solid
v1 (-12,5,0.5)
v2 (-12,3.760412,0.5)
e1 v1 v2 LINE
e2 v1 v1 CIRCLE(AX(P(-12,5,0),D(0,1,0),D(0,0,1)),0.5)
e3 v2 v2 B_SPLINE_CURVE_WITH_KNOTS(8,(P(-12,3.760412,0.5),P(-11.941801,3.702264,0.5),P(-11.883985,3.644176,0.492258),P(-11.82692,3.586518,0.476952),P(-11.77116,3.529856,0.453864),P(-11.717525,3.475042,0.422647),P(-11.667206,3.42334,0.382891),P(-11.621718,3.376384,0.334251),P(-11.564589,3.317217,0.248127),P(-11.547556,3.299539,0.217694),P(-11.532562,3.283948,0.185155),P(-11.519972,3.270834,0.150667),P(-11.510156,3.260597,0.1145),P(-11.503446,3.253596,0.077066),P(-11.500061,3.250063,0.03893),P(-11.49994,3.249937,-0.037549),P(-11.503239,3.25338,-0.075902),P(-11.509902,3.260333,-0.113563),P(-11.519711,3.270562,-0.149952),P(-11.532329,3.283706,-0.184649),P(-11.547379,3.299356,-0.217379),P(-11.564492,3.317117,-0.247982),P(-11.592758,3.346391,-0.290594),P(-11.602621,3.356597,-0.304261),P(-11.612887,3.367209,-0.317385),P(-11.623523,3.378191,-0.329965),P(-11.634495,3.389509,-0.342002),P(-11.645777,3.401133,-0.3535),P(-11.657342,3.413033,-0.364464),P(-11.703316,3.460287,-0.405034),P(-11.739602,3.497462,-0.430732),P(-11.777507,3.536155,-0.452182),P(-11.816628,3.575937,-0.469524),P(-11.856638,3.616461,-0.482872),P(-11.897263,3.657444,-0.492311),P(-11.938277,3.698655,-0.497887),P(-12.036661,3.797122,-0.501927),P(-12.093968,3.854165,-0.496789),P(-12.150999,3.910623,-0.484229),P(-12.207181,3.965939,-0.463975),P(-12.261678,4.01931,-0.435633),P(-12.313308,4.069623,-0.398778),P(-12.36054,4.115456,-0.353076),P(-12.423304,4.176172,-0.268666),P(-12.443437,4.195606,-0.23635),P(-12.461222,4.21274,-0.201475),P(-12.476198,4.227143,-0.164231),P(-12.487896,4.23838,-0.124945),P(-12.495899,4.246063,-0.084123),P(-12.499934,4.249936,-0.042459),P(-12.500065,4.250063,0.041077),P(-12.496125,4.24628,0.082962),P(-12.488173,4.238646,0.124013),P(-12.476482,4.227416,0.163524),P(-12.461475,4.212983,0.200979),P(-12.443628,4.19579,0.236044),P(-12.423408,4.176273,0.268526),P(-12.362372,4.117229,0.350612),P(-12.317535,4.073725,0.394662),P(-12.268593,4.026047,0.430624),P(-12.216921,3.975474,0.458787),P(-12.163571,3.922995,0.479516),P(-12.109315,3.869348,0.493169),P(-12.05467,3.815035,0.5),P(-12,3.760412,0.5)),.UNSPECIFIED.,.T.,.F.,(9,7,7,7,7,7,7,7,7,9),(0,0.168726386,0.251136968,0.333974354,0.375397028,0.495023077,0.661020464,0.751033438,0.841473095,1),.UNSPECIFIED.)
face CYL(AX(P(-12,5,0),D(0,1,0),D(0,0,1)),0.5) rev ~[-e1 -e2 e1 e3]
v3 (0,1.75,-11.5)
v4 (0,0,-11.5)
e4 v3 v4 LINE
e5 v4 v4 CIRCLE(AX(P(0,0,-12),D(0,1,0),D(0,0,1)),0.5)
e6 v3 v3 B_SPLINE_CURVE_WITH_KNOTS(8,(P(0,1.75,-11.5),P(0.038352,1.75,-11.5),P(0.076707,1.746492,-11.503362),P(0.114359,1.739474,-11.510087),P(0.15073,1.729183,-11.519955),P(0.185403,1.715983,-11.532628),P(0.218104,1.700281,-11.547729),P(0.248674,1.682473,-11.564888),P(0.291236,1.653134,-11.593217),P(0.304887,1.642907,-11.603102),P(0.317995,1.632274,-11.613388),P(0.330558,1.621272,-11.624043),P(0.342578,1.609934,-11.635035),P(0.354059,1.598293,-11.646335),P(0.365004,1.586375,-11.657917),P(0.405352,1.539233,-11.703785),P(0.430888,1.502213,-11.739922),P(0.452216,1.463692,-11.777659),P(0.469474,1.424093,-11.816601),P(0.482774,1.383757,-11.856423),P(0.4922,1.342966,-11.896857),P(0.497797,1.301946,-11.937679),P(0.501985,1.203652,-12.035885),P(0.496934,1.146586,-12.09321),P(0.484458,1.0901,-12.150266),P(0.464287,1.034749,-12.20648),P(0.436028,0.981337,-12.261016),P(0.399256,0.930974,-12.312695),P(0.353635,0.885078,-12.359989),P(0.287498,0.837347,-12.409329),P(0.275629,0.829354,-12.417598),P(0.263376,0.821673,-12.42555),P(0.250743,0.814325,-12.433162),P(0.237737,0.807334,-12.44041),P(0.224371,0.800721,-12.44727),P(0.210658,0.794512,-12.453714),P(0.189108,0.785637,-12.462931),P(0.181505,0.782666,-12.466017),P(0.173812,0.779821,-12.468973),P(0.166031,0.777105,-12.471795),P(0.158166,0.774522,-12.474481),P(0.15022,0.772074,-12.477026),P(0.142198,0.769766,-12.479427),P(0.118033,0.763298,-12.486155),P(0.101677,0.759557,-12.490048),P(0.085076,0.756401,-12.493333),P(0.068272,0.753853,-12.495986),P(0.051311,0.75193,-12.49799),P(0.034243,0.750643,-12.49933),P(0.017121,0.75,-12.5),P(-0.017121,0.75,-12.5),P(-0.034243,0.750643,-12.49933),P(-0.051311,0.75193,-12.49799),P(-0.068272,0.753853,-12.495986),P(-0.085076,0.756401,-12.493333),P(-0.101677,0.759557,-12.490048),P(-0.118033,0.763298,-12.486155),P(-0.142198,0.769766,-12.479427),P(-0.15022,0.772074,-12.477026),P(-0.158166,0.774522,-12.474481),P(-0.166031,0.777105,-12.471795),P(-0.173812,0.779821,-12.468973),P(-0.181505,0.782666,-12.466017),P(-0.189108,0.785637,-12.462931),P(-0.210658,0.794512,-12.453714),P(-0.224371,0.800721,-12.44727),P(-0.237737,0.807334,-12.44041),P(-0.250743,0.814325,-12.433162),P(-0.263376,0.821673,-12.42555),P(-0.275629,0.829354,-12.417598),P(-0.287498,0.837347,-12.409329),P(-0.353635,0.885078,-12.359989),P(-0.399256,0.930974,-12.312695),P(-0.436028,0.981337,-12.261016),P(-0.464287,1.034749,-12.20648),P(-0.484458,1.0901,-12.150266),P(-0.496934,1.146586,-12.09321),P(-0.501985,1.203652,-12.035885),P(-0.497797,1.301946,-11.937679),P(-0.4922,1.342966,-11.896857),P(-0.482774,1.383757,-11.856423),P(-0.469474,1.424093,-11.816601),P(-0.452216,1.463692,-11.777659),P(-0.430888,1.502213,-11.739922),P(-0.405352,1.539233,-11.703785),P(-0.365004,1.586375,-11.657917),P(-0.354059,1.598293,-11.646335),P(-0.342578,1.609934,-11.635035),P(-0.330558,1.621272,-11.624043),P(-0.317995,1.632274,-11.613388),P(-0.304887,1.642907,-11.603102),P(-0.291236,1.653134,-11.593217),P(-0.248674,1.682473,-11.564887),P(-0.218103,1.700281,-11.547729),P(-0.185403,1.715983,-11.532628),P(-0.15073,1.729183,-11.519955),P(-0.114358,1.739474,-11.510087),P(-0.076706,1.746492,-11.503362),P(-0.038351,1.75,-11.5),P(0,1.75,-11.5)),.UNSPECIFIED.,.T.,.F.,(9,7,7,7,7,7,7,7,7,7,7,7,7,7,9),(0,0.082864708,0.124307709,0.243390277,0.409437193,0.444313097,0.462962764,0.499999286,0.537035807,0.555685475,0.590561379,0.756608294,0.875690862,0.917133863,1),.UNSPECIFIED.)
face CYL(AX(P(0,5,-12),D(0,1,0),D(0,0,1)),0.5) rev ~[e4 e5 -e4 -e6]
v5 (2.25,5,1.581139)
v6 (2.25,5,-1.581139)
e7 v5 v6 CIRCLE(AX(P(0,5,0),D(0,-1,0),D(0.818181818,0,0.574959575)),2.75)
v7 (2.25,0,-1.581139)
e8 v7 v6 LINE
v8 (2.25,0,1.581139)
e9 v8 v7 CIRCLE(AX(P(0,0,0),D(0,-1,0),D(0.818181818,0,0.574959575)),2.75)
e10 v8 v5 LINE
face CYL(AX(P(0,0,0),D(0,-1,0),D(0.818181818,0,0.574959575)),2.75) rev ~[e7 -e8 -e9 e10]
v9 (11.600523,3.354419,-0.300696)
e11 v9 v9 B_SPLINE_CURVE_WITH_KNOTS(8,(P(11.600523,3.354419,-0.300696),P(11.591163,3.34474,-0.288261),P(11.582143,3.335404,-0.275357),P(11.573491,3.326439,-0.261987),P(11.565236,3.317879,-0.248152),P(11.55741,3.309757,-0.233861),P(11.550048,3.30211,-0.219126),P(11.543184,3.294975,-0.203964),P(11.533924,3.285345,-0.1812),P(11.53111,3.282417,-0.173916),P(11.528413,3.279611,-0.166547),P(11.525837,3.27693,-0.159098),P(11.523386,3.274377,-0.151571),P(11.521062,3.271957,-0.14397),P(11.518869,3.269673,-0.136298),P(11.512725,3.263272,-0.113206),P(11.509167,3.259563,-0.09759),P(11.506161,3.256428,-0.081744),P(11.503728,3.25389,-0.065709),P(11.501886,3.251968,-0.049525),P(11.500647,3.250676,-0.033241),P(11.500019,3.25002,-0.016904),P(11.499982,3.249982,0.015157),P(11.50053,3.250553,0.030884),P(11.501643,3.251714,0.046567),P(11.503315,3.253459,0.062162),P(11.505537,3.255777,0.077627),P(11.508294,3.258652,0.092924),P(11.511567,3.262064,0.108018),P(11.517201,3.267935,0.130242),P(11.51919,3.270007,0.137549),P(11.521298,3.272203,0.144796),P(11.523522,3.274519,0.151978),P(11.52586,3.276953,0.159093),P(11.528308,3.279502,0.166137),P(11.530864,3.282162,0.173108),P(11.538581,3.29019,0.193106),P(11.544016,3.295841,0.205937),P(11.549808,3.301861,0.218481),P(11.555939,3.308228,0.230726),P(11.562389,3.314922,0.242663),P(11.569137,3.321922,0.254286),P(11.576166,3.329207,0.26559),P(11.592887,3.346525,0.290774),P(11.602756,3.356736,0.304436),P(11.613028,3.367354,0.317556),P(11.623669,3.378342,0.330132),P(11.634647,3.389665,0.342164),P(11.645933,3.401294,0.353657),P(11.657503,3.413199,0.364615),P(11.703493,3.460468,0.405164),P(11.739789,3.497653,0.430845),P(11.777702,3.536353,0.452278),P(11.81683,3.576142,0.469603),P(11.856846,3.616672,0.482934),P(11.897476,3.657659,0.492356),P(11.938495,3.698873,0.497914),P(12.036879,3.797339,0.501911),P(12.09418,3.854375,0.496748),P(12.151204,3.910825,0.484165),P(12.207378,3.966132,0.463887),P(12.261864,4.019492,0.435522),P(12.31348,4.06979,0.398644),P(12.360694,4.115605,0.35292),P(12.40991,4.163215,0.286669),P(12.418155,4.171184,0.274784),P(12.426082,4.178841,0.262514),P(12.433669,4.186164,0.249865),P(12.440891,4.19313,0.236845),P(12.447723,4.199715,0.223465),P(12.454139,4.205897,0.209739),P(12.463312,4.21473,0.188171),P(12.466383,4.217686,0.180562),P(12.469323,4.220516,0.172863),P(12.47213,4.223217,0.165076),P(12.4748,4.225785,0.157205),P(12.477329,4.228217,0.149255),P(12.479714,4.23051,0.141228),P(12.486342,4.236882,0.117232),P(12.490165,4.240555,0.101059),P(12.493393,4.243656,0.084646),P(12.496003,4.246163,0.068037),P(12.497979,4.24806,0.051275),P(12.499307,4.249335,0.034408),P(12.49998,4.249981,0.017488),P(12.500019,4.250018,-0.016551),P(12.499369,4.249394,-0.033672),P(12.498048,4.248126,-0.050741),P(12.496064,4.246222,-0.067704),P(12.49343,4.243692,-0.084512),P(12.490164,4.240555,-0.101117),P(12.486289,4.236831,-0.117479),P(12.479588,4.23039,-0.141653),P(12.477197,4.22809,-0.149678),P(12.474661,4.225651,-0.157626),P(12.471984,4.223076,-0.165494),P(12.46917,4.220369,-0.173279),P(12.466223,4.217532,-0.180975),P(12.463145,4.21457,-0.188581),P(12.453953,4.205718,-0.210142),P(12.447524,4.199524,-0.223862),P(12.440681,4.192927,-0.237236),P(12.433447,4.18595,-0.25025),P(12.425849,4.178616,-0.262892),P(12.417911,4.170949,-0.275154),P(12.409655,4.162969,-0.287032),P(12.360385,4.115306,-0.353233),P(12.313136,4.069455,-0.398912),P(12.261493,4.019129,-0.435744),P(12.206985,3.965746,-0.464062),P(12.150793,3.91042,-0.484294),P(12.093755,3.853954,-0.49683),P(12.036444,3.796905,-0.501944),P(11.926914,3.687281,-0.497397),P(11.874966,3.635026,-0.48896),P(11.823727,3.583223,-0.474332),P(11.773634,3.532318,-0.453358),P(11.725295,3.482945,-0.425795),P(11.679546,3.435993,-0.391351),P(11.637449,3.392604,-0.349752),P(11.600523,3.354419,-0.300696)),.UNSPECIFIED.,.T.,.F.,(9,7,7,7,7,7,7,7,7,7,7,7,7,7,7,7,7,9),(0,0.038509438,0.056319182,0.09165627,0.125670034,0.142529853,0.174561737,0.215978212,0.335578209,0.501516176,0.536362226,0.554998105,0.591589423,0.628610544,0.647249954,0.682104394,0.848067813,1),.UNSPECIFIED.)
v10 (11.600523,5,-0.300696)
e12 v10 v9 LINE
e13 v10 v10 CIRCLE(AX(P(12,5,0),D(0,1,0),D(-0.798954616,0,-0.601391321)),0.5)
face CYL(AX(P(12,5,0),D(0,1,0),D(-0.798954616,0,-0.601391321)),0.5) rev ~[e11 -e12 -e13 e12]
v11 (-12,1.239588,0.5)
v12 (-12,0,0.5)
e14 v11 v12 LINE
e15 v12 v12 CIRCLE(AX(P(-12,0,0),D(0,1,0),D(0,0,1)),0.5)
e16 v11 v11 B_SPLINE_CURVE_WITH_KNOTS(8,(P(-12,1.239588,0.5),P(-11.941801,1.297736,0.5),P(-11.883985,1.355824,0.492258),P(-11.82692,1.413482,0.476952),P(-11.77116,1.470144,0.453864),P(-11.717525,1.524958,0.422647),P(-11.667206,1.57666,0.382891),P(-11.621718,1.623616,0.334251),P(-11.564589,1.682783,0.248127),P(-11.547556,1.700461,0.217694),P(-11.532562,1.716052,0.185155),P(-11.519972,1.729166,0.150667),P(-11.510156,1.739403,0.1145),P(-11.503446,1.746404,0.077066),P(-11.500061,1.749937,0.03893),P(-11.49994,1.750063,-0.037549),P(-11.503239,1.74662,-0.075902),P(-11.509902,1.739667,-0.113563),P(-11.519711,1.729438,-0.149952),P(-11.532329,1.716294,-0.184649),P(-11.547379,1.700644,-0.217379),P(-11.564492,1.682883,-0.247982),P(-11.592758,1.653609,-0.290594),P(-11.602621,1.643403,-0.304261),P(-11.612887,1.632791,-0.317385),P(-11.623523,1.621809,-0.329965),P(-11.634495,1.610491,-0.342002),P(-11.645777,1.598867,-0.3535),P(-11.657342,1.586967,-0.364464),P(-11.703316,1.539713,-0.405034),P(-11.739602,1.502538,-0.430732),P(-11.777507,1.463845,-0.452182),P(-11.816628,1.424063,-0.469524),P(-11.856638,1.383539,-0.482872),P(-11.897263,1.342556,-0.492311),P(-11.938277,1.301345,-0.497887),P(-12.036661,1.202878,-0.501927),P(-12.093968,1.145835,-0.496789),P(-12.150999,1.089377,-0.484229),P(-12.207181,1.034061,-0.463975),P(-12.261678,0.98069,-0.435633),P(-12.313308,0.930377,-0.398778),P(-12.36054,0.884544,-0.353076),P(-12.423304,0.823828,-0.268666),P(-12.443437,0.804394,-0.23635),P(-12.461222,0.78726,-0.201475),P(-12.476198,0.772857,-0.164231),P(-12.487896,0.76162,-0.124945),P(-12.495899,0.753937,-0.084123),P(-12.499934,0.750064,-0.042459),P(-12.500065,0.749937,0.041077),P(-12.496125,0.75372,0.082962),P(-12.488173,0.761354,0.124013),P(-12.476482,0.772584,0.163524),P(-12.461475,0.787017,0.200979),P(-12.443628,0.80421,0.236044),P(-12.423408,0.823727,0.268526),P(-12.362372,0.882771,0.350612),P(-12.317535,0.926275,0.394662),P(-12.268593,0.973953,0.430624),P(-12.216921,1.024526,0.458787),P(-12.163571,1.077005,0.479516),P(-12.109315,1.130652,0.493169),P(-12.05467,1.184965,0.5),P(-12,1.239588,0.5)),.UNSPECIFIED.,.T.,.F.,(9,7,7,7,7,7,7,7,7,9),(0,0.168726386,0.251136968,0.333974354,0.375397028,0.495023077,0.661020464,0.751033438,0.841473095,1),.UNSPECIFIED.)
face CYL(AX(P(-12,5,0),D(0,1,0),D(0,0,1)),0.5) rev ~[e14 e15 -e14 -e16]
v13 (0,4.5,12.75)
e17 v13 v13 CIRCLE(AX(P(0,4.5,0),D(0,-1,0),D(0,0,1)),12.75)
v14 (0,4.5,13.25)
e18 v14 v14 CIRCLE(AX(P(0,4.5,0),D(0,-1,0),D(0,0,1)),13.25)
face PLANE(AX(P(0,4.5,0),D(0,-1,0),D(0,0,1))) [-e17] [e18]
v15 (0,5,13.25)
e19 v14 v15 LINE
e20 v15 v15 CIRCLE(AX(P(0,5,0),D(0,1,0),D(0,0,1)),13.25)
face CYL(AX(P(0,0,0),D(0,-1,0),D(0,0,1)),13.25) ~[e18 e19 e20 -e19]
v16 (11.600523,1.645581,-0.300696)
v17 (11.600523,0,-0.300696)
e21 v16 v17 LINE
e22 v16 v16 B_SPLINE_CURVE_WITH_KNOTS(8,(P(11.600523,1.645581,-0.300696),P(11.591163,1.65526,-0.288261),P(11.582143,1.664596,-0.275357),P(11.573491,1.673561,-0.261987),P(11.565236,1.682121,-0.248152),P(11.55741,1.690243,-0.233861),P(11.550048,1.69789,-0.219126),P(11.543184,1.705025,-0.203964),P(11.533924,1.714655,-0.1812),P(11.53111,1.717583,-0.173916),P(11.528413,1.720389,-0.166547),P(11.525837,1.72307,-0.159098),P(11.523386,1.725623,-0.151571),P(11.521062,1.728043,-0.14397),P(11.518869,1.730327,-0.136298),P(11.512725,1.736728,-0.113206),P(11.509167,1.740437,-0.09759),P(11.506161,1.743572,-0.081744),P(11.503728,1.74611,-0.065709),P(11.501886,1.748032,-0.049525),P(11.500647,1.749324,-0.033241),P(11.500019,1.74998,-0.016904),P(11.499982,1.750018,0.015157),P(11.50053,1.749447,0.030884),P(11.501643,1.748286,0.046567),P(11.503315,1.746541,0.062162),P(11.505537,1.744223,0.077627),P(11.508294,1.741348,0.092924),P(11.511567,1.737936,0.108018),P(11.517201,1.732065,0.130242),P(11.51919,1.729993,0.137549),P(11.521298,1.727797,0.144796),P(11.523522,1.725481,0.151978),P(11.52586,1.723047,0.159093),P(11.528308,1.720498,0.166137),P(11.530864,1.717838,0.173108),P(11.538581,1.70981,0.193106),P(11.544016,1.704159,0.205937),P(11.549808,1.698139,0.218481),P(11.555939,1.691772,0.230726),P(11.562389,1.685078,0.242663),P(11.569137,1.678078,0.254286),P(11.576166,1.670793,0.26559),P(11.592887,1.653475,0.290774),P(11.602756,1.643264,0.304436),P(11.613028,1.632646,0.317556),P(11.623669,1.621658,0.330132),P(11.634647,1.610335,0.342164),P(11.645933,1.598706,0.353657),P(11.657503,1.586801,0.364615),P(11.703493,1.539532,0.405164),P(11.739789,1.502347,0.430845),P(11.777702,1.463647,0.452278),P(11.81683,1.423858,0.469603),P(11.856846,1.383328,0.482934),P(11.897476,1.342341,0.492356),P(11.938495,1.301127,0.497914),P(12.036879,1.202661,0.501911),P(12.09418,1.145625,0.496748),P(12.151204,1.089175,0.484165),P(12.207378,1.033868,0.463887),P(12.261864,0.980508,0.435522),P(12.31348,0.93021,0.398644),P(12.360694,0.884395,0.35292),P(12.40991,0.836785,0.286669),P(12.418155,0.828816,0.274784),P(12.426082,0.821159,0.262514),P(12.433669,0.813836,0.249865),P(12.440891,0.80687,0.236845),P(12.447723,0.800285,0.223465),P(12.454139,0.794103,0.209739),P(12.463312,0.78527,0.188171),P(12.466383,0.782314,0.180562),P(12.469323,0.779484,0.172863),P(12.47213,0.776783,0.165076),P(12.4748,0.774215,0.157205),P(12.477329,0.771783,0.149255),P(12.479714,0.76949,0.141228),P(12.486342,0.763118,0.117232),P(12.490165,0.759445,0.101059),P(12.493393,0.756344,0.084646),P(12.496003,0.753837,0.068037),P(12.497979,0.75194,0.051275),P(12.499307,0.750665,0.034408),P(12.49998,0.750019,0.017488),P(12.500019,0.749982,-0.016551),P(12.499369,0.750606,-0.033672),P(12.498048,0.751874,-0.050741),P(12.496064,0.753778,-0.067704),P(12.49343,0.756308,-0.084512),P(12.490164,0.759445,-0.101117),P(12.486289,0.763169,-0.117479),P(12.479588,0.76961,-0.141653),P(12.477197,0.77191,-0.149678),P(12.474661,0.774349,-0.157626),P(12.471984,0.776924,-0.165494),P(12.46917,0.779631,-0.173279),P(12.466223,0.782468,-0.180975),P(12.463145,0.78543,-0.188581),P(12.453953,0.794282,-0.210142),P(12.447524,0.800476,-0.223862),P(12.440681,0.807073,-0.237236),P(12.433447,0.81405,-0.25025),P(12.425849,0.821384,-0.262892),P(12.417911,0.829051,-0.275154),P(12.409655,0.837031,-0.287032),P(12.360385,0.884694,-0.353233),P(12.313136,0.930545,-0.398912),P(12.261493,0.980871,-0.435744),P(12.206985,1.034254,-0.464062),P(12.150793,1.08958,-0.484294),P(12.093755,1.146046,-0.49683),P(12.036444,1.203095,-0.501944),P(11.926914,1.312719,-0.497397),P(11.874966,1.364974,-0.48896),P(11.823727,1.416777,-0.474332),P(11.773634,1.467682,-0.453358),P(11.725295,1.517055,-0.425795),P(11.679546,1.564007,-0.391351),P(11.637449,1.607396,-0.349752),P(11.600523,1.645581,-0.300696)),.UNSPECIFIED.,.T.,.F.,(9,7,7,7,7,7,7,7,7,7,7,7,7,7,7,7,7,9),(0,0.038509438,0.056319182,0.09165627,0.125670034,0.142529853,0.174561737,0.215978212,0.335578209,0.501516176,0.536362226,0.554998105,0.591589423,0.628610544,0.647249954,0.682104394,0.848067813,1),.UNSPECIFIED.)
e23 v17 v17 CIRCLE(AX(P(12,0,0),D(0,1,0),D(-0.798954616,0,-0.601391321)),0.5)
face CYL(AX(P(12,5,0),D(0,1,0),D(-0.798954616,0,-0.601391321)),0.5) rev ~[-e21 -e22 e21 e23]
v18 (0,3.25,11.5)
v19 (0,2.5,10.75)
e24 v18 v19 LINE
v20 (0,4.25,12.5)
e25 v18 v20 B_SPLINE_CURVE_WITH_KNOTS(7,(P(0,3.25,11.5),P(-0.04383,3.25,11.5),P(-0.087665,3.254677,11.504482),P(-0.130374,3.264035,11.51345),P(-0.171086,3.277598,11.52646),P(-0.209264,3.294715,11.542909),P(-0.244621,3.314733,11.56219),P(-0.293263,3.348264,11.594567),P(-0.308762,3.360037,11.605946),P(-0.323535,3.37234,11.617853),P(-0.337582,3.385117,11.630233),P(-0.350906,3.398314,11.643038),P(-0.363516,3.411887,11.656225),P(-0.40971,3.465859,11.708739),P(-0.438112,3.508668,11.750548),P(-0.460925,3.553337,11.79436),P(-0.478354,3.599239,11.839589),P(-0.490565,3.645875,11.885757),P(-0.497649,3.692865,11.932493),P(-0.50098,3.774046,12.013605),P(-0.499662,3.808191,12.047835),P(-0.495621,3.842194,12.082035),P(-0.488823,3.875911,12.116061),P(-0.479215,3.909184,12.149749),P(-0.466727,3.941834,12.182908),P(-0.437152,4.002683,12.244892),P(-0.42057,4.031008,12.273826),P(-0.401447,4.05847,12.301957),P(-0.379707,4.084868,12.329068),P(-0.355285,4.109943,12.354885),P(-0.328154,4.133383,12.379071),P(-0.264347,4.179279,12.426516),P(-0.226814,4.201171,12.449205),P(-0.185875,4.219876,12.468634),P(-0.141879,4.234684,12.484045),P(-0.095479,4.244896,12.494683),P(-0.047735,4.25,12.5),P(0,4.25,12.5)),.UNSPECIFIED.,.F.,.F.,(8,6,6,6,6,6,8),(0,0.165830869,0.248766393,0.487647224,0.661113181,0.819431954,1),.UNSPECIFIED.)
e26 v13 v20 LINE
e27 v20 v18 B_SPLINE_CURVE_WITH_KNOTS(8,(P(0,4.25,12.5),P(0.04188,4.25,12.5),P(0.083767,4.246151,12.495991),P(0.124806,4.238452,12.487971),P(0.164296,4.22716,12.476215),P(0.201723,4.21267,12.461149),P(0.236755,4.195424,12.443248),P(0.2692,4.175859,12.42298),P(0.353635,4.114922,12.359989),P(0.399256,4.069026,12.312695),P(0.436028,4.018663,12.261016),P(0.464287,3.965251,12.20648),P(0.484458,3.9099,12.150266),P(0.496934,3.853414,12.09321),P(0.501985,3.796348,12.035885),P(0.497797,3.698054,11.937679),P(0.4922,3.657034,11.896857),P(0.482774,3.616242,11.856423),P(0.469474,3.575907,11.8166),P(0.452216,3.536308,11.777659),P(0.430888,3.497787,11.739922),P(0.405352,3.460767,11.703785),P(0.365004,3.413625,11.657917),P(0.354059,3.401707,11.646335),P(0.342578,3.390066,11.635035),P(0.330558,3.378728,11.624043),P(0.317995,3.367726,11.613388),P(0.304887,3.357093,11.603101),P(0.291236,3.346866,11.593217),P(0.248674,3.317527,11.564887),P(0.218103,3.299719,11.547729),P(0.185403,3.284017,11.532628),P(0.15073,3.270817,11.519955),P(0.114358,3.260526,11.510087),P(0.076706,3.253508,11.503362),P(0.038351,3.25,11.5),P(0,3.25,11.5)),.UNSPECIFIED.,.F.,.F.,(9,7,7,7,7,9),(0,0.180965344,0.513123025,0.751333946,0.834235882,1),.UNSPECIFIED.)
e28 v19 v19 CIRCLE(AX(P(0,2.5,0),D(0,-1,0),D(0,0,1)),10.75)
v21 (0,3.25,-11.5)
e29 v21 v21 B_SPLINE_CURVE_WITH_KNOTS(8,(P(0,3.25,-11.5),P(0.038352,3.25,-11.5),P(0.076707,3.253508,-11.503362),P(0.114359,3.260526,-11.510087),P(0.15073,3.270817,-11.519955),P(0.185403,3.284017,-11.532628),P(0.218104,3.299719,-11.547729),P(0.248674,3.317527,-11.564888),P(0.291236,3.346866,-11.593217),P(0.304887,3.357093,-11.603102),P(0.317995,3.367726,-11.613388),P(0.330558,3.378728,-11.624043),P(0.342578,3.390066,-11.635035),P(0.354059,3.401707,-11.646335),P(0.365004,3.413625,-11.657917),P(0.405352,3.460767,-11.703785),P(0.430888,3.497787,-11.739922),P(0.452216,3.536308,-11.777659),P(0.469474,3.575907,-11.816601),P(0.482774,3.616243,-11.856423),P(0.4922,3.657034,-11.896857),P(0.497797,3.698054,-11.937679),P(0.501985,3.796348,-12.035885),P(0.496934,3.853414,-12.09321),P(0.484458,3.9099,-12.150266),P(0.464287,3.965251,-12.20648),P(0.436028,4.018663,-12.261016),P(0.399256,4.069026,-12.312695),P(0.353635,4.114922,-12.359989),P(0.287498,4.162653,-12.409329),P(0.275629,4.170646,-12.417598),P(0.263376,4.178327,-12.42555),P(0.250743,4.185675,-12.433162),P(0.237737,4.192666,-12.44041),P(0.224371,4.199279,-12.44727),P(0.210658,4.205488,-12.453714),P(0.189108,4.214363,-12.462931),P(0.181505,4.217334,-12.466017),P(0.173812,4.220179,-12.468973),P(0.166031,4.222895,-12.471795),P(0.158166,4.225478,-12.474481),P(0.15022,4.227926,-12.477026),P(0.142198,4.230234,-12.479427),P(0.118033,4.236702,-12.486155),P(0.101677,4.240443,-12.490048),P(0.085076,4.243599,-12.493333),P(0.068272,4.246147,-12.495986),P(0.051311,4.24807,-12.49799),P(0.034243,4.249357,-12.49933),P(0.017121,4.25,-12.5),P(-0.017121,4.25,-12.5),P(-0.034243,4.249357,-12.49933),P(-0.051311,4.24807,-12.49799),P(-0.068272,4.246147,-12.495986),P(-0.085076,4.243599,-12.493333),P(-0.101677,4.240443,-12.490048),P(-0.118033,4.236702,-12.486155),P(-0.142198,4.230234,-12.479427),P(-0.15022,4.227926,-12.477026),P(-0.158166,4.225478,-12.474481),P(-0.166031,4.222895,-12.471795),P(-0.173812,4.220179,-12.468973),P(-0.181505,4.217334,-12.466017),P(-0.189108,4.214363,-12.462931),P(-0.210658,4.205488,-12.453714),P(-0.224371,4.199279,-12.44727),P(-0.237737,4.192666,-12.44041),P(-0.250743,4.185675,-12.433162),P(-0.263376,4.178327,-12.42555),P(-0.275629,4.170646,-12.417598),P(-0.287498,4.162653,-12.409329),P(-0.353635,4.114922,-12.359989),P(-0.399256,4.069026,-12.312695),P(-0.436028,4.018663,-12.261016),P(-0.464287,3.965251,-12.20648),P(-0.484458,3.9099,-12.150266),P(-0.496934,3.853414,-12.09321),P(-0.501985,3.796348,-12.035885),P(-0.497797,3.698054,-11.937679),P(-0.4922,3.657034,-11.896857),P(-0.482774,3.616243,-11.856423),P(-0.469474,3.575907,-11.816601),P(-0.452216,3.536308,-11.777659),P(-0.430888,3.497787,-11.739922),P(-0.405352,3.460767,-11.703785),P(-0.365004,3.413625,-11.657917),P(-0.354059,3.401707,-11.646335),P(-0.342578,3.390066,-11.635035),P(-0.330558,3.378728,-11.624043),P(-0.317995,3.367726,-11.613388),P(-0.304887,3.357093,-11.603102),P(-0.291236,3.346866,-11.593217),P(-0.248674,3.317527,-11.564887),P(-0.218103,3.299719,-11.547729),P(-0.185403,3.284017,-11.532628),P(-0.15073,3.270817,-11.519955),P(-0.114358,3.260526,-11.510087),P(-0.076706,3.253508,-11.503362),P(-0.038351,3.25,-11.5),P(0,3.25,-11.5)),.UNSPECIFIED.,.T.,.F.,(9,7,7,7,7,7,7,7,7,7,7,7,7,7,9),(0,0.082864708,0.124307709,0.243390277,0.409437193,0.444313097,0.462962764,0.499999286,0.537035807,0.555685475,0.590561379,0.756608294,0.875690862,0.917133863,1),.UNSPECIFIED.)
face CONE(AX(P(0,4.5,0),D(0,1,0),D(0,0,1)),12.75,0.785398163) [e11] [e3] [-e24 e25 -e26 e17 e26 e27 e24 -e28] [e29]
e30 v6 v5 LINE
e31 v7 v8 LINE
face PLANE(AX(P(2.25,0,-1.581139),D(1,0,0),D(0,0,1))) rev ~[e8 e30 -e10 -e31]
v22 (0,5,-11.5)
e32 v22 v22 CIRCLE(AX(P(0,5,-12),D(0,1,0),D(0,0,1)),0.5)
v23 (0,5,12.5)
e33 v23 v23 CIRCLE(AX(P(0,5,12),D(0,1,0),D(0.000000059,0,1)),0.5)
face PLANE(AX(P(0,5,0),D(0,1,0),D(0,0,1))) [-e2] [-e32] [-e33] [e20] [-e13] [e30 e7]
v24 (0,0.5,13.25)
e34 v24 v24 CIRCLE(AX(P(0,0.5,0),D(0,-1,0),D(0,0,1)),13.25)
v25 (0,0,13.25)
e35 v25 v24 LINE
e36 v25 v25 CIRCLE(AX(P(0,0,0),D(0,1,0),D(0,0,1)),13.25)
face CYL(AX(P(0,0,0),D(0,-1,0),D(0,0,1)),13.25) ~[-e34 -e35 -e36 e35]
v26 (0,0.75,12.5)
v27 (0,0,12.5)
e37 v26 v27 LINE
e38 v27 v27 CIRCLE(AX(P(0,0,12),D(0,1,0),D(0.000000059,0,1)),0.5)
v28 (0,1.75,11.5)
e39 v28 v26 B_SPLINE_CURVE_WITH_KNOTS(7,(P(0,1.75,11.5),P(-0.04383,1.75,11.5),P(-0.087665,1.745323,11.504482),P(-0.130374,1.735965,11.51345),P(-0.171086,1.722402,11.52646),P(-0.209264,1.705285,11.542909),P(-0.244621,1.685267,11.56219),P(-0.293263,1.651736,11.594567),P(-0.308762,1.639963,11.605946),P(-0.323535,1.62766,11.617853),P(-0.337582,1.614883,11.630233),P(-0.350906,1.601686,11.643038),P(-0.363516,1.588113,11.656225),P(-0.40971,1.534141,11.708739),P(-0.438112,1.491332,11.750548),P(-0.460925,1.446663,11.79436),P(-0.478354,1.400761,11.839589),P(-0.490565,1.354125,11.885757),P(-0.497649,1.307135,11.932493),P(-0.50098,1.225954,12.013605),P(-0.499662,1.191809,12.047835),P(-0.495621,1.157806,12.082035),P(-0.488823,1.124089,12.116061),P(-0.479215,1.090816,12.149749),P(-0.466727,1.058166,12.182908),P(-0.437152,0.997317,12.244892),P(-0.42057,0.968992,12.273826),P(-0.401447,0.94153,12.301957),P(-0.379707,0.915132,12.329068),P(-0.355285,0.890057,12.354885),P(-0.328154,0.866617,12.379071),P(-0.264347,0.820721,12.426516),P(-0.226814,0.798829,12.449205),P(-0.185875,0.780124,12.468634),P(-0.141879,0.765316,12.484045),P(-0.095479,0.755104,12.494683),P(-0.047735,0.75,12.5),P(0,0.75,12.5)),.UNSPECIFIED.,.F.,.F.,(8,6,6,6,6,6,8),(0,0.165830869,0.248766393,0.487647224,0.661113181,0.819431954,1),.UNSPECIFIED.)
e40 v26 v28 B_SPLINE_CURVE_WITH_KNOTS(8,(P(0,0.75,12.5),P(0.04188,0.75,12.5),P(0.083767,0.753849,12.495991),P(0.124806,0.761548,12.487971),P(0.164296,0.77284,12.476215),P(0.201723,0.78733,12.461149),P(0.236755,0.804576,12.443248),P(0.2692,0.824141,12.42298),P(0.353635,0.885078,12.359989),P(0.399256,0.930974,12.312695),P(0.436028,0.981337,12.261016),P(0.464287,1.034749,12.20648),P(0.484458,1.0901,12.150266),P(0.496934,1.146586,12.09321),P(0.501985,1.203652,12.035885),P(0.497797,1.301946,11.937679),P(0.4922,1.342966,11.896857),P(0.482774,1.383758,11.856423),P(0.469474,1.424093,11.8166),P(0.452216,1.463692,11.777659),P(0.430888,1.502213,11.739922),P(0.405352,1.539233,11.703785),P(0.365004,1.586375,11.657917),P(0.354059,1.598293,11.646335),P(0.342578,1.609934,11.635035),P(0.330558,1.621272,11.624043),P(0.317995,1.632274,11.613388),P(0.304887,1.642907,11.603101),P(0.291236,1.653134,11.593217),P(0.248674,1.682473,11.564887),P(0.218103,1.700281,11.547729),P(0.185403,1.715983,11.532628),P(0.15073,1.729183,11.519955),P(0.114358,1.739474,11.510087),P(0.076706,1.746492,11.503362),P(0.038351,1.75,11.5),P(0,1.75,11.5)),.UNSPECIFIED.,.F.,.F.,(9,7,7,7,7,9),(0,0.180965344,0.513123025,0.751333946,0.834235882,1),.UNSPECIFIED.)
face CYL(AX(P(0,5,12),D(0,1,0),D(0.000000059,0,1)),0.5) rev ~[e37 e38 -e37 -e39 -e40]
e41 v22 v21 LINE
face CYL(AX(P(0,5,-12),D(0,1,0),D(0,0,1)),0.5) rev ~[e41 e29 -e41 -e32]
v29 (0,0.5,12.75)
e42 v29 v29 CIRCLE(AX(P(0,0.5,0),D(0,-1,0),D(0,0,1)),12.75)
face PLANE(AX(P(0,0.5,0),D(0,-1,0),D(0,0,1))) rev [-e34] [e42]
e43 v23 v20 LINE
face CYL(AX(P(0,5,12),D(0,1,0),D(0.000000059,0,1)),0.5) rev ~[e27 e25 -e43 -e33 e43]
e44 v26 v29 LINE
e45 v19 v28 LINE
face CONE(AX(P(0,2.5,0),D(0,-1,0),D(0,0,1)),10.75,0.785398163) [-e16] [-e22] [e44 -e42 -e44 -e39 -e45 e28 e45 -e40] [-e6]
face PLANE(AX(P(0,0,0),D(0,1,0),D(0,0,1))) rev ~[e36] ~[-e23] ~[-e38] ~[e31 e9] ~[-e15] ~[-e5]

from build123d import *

# Parameters (mm, degrees)
SKETCH1_R           = 13.25
BOSS_EXTRUDE1_DEPTH = 5
SKETCH5_R           = 0.5
CUT_EXTRUDE1_DEPTH  = 5


with BuildPart() as part:
    # Sketch1 → Boss-Extrude1 (new body)
    with BuildSketch(Plane(origin=(0, 0, 0), x_dir=(1, 0, 0), z_dir=(0, 1, 0))):
        with Locations(Location((0, 0, 0), (0, 0, 270))):
            Circle(SKETCH1_R)
        with BuildLine():
            Line((2.25, 1.58113883), (2.25, -1.58113883))
            ThreePointArc((2.25, -1.58113883), (-2.75, 0), (2.25, 1.58113883))
        make_face(mode=Mode.SUBTRACT)
    extrude(amount=BOSS_EXTRUDE1_DEPTH)

    # Sketch4 → Cut-Revolve1 (revolve, cut)
    with BuildSketch(Plane.ZY):
        Polygon((12.75, 4.5), (10.75, 2.5), (12.75, 0.5), (13.25, 0.5), (13.25, 4.5), align=None)
    revolve(axis=Axis((0, 5, 0), (0, -1, 0)), mode=Mode.SUBTRACT)

    # Sketch5 → Cut-Extrude1 (cut)
    with BuildSketch(Plane(origin=(0, 5, 0), x_dir=(1, 0, 0), z_dir=(0, 1, 0))):
        with Locations(Location((-12, 0, 0), (0, 0, 270))):
            Circle(SKETCH5_R)
        with Locations(Location((12, 0, 0), (0, 0, 143.030391189))):
            Circle(SKETCH5_R)
        with Locations(Location((0, 12, 0), (0, 0, 270))):
            Circle(SKETCH5_R)
        with Locations(Location((0, -12, 0), (0, 0, 270.000003371))):
            Circle(SKETCH5_R)
    extrude(amount=-CUT_EXTRUDE1_DEPTH, mode=Mode.SUBTRACT)


solid = part.part
